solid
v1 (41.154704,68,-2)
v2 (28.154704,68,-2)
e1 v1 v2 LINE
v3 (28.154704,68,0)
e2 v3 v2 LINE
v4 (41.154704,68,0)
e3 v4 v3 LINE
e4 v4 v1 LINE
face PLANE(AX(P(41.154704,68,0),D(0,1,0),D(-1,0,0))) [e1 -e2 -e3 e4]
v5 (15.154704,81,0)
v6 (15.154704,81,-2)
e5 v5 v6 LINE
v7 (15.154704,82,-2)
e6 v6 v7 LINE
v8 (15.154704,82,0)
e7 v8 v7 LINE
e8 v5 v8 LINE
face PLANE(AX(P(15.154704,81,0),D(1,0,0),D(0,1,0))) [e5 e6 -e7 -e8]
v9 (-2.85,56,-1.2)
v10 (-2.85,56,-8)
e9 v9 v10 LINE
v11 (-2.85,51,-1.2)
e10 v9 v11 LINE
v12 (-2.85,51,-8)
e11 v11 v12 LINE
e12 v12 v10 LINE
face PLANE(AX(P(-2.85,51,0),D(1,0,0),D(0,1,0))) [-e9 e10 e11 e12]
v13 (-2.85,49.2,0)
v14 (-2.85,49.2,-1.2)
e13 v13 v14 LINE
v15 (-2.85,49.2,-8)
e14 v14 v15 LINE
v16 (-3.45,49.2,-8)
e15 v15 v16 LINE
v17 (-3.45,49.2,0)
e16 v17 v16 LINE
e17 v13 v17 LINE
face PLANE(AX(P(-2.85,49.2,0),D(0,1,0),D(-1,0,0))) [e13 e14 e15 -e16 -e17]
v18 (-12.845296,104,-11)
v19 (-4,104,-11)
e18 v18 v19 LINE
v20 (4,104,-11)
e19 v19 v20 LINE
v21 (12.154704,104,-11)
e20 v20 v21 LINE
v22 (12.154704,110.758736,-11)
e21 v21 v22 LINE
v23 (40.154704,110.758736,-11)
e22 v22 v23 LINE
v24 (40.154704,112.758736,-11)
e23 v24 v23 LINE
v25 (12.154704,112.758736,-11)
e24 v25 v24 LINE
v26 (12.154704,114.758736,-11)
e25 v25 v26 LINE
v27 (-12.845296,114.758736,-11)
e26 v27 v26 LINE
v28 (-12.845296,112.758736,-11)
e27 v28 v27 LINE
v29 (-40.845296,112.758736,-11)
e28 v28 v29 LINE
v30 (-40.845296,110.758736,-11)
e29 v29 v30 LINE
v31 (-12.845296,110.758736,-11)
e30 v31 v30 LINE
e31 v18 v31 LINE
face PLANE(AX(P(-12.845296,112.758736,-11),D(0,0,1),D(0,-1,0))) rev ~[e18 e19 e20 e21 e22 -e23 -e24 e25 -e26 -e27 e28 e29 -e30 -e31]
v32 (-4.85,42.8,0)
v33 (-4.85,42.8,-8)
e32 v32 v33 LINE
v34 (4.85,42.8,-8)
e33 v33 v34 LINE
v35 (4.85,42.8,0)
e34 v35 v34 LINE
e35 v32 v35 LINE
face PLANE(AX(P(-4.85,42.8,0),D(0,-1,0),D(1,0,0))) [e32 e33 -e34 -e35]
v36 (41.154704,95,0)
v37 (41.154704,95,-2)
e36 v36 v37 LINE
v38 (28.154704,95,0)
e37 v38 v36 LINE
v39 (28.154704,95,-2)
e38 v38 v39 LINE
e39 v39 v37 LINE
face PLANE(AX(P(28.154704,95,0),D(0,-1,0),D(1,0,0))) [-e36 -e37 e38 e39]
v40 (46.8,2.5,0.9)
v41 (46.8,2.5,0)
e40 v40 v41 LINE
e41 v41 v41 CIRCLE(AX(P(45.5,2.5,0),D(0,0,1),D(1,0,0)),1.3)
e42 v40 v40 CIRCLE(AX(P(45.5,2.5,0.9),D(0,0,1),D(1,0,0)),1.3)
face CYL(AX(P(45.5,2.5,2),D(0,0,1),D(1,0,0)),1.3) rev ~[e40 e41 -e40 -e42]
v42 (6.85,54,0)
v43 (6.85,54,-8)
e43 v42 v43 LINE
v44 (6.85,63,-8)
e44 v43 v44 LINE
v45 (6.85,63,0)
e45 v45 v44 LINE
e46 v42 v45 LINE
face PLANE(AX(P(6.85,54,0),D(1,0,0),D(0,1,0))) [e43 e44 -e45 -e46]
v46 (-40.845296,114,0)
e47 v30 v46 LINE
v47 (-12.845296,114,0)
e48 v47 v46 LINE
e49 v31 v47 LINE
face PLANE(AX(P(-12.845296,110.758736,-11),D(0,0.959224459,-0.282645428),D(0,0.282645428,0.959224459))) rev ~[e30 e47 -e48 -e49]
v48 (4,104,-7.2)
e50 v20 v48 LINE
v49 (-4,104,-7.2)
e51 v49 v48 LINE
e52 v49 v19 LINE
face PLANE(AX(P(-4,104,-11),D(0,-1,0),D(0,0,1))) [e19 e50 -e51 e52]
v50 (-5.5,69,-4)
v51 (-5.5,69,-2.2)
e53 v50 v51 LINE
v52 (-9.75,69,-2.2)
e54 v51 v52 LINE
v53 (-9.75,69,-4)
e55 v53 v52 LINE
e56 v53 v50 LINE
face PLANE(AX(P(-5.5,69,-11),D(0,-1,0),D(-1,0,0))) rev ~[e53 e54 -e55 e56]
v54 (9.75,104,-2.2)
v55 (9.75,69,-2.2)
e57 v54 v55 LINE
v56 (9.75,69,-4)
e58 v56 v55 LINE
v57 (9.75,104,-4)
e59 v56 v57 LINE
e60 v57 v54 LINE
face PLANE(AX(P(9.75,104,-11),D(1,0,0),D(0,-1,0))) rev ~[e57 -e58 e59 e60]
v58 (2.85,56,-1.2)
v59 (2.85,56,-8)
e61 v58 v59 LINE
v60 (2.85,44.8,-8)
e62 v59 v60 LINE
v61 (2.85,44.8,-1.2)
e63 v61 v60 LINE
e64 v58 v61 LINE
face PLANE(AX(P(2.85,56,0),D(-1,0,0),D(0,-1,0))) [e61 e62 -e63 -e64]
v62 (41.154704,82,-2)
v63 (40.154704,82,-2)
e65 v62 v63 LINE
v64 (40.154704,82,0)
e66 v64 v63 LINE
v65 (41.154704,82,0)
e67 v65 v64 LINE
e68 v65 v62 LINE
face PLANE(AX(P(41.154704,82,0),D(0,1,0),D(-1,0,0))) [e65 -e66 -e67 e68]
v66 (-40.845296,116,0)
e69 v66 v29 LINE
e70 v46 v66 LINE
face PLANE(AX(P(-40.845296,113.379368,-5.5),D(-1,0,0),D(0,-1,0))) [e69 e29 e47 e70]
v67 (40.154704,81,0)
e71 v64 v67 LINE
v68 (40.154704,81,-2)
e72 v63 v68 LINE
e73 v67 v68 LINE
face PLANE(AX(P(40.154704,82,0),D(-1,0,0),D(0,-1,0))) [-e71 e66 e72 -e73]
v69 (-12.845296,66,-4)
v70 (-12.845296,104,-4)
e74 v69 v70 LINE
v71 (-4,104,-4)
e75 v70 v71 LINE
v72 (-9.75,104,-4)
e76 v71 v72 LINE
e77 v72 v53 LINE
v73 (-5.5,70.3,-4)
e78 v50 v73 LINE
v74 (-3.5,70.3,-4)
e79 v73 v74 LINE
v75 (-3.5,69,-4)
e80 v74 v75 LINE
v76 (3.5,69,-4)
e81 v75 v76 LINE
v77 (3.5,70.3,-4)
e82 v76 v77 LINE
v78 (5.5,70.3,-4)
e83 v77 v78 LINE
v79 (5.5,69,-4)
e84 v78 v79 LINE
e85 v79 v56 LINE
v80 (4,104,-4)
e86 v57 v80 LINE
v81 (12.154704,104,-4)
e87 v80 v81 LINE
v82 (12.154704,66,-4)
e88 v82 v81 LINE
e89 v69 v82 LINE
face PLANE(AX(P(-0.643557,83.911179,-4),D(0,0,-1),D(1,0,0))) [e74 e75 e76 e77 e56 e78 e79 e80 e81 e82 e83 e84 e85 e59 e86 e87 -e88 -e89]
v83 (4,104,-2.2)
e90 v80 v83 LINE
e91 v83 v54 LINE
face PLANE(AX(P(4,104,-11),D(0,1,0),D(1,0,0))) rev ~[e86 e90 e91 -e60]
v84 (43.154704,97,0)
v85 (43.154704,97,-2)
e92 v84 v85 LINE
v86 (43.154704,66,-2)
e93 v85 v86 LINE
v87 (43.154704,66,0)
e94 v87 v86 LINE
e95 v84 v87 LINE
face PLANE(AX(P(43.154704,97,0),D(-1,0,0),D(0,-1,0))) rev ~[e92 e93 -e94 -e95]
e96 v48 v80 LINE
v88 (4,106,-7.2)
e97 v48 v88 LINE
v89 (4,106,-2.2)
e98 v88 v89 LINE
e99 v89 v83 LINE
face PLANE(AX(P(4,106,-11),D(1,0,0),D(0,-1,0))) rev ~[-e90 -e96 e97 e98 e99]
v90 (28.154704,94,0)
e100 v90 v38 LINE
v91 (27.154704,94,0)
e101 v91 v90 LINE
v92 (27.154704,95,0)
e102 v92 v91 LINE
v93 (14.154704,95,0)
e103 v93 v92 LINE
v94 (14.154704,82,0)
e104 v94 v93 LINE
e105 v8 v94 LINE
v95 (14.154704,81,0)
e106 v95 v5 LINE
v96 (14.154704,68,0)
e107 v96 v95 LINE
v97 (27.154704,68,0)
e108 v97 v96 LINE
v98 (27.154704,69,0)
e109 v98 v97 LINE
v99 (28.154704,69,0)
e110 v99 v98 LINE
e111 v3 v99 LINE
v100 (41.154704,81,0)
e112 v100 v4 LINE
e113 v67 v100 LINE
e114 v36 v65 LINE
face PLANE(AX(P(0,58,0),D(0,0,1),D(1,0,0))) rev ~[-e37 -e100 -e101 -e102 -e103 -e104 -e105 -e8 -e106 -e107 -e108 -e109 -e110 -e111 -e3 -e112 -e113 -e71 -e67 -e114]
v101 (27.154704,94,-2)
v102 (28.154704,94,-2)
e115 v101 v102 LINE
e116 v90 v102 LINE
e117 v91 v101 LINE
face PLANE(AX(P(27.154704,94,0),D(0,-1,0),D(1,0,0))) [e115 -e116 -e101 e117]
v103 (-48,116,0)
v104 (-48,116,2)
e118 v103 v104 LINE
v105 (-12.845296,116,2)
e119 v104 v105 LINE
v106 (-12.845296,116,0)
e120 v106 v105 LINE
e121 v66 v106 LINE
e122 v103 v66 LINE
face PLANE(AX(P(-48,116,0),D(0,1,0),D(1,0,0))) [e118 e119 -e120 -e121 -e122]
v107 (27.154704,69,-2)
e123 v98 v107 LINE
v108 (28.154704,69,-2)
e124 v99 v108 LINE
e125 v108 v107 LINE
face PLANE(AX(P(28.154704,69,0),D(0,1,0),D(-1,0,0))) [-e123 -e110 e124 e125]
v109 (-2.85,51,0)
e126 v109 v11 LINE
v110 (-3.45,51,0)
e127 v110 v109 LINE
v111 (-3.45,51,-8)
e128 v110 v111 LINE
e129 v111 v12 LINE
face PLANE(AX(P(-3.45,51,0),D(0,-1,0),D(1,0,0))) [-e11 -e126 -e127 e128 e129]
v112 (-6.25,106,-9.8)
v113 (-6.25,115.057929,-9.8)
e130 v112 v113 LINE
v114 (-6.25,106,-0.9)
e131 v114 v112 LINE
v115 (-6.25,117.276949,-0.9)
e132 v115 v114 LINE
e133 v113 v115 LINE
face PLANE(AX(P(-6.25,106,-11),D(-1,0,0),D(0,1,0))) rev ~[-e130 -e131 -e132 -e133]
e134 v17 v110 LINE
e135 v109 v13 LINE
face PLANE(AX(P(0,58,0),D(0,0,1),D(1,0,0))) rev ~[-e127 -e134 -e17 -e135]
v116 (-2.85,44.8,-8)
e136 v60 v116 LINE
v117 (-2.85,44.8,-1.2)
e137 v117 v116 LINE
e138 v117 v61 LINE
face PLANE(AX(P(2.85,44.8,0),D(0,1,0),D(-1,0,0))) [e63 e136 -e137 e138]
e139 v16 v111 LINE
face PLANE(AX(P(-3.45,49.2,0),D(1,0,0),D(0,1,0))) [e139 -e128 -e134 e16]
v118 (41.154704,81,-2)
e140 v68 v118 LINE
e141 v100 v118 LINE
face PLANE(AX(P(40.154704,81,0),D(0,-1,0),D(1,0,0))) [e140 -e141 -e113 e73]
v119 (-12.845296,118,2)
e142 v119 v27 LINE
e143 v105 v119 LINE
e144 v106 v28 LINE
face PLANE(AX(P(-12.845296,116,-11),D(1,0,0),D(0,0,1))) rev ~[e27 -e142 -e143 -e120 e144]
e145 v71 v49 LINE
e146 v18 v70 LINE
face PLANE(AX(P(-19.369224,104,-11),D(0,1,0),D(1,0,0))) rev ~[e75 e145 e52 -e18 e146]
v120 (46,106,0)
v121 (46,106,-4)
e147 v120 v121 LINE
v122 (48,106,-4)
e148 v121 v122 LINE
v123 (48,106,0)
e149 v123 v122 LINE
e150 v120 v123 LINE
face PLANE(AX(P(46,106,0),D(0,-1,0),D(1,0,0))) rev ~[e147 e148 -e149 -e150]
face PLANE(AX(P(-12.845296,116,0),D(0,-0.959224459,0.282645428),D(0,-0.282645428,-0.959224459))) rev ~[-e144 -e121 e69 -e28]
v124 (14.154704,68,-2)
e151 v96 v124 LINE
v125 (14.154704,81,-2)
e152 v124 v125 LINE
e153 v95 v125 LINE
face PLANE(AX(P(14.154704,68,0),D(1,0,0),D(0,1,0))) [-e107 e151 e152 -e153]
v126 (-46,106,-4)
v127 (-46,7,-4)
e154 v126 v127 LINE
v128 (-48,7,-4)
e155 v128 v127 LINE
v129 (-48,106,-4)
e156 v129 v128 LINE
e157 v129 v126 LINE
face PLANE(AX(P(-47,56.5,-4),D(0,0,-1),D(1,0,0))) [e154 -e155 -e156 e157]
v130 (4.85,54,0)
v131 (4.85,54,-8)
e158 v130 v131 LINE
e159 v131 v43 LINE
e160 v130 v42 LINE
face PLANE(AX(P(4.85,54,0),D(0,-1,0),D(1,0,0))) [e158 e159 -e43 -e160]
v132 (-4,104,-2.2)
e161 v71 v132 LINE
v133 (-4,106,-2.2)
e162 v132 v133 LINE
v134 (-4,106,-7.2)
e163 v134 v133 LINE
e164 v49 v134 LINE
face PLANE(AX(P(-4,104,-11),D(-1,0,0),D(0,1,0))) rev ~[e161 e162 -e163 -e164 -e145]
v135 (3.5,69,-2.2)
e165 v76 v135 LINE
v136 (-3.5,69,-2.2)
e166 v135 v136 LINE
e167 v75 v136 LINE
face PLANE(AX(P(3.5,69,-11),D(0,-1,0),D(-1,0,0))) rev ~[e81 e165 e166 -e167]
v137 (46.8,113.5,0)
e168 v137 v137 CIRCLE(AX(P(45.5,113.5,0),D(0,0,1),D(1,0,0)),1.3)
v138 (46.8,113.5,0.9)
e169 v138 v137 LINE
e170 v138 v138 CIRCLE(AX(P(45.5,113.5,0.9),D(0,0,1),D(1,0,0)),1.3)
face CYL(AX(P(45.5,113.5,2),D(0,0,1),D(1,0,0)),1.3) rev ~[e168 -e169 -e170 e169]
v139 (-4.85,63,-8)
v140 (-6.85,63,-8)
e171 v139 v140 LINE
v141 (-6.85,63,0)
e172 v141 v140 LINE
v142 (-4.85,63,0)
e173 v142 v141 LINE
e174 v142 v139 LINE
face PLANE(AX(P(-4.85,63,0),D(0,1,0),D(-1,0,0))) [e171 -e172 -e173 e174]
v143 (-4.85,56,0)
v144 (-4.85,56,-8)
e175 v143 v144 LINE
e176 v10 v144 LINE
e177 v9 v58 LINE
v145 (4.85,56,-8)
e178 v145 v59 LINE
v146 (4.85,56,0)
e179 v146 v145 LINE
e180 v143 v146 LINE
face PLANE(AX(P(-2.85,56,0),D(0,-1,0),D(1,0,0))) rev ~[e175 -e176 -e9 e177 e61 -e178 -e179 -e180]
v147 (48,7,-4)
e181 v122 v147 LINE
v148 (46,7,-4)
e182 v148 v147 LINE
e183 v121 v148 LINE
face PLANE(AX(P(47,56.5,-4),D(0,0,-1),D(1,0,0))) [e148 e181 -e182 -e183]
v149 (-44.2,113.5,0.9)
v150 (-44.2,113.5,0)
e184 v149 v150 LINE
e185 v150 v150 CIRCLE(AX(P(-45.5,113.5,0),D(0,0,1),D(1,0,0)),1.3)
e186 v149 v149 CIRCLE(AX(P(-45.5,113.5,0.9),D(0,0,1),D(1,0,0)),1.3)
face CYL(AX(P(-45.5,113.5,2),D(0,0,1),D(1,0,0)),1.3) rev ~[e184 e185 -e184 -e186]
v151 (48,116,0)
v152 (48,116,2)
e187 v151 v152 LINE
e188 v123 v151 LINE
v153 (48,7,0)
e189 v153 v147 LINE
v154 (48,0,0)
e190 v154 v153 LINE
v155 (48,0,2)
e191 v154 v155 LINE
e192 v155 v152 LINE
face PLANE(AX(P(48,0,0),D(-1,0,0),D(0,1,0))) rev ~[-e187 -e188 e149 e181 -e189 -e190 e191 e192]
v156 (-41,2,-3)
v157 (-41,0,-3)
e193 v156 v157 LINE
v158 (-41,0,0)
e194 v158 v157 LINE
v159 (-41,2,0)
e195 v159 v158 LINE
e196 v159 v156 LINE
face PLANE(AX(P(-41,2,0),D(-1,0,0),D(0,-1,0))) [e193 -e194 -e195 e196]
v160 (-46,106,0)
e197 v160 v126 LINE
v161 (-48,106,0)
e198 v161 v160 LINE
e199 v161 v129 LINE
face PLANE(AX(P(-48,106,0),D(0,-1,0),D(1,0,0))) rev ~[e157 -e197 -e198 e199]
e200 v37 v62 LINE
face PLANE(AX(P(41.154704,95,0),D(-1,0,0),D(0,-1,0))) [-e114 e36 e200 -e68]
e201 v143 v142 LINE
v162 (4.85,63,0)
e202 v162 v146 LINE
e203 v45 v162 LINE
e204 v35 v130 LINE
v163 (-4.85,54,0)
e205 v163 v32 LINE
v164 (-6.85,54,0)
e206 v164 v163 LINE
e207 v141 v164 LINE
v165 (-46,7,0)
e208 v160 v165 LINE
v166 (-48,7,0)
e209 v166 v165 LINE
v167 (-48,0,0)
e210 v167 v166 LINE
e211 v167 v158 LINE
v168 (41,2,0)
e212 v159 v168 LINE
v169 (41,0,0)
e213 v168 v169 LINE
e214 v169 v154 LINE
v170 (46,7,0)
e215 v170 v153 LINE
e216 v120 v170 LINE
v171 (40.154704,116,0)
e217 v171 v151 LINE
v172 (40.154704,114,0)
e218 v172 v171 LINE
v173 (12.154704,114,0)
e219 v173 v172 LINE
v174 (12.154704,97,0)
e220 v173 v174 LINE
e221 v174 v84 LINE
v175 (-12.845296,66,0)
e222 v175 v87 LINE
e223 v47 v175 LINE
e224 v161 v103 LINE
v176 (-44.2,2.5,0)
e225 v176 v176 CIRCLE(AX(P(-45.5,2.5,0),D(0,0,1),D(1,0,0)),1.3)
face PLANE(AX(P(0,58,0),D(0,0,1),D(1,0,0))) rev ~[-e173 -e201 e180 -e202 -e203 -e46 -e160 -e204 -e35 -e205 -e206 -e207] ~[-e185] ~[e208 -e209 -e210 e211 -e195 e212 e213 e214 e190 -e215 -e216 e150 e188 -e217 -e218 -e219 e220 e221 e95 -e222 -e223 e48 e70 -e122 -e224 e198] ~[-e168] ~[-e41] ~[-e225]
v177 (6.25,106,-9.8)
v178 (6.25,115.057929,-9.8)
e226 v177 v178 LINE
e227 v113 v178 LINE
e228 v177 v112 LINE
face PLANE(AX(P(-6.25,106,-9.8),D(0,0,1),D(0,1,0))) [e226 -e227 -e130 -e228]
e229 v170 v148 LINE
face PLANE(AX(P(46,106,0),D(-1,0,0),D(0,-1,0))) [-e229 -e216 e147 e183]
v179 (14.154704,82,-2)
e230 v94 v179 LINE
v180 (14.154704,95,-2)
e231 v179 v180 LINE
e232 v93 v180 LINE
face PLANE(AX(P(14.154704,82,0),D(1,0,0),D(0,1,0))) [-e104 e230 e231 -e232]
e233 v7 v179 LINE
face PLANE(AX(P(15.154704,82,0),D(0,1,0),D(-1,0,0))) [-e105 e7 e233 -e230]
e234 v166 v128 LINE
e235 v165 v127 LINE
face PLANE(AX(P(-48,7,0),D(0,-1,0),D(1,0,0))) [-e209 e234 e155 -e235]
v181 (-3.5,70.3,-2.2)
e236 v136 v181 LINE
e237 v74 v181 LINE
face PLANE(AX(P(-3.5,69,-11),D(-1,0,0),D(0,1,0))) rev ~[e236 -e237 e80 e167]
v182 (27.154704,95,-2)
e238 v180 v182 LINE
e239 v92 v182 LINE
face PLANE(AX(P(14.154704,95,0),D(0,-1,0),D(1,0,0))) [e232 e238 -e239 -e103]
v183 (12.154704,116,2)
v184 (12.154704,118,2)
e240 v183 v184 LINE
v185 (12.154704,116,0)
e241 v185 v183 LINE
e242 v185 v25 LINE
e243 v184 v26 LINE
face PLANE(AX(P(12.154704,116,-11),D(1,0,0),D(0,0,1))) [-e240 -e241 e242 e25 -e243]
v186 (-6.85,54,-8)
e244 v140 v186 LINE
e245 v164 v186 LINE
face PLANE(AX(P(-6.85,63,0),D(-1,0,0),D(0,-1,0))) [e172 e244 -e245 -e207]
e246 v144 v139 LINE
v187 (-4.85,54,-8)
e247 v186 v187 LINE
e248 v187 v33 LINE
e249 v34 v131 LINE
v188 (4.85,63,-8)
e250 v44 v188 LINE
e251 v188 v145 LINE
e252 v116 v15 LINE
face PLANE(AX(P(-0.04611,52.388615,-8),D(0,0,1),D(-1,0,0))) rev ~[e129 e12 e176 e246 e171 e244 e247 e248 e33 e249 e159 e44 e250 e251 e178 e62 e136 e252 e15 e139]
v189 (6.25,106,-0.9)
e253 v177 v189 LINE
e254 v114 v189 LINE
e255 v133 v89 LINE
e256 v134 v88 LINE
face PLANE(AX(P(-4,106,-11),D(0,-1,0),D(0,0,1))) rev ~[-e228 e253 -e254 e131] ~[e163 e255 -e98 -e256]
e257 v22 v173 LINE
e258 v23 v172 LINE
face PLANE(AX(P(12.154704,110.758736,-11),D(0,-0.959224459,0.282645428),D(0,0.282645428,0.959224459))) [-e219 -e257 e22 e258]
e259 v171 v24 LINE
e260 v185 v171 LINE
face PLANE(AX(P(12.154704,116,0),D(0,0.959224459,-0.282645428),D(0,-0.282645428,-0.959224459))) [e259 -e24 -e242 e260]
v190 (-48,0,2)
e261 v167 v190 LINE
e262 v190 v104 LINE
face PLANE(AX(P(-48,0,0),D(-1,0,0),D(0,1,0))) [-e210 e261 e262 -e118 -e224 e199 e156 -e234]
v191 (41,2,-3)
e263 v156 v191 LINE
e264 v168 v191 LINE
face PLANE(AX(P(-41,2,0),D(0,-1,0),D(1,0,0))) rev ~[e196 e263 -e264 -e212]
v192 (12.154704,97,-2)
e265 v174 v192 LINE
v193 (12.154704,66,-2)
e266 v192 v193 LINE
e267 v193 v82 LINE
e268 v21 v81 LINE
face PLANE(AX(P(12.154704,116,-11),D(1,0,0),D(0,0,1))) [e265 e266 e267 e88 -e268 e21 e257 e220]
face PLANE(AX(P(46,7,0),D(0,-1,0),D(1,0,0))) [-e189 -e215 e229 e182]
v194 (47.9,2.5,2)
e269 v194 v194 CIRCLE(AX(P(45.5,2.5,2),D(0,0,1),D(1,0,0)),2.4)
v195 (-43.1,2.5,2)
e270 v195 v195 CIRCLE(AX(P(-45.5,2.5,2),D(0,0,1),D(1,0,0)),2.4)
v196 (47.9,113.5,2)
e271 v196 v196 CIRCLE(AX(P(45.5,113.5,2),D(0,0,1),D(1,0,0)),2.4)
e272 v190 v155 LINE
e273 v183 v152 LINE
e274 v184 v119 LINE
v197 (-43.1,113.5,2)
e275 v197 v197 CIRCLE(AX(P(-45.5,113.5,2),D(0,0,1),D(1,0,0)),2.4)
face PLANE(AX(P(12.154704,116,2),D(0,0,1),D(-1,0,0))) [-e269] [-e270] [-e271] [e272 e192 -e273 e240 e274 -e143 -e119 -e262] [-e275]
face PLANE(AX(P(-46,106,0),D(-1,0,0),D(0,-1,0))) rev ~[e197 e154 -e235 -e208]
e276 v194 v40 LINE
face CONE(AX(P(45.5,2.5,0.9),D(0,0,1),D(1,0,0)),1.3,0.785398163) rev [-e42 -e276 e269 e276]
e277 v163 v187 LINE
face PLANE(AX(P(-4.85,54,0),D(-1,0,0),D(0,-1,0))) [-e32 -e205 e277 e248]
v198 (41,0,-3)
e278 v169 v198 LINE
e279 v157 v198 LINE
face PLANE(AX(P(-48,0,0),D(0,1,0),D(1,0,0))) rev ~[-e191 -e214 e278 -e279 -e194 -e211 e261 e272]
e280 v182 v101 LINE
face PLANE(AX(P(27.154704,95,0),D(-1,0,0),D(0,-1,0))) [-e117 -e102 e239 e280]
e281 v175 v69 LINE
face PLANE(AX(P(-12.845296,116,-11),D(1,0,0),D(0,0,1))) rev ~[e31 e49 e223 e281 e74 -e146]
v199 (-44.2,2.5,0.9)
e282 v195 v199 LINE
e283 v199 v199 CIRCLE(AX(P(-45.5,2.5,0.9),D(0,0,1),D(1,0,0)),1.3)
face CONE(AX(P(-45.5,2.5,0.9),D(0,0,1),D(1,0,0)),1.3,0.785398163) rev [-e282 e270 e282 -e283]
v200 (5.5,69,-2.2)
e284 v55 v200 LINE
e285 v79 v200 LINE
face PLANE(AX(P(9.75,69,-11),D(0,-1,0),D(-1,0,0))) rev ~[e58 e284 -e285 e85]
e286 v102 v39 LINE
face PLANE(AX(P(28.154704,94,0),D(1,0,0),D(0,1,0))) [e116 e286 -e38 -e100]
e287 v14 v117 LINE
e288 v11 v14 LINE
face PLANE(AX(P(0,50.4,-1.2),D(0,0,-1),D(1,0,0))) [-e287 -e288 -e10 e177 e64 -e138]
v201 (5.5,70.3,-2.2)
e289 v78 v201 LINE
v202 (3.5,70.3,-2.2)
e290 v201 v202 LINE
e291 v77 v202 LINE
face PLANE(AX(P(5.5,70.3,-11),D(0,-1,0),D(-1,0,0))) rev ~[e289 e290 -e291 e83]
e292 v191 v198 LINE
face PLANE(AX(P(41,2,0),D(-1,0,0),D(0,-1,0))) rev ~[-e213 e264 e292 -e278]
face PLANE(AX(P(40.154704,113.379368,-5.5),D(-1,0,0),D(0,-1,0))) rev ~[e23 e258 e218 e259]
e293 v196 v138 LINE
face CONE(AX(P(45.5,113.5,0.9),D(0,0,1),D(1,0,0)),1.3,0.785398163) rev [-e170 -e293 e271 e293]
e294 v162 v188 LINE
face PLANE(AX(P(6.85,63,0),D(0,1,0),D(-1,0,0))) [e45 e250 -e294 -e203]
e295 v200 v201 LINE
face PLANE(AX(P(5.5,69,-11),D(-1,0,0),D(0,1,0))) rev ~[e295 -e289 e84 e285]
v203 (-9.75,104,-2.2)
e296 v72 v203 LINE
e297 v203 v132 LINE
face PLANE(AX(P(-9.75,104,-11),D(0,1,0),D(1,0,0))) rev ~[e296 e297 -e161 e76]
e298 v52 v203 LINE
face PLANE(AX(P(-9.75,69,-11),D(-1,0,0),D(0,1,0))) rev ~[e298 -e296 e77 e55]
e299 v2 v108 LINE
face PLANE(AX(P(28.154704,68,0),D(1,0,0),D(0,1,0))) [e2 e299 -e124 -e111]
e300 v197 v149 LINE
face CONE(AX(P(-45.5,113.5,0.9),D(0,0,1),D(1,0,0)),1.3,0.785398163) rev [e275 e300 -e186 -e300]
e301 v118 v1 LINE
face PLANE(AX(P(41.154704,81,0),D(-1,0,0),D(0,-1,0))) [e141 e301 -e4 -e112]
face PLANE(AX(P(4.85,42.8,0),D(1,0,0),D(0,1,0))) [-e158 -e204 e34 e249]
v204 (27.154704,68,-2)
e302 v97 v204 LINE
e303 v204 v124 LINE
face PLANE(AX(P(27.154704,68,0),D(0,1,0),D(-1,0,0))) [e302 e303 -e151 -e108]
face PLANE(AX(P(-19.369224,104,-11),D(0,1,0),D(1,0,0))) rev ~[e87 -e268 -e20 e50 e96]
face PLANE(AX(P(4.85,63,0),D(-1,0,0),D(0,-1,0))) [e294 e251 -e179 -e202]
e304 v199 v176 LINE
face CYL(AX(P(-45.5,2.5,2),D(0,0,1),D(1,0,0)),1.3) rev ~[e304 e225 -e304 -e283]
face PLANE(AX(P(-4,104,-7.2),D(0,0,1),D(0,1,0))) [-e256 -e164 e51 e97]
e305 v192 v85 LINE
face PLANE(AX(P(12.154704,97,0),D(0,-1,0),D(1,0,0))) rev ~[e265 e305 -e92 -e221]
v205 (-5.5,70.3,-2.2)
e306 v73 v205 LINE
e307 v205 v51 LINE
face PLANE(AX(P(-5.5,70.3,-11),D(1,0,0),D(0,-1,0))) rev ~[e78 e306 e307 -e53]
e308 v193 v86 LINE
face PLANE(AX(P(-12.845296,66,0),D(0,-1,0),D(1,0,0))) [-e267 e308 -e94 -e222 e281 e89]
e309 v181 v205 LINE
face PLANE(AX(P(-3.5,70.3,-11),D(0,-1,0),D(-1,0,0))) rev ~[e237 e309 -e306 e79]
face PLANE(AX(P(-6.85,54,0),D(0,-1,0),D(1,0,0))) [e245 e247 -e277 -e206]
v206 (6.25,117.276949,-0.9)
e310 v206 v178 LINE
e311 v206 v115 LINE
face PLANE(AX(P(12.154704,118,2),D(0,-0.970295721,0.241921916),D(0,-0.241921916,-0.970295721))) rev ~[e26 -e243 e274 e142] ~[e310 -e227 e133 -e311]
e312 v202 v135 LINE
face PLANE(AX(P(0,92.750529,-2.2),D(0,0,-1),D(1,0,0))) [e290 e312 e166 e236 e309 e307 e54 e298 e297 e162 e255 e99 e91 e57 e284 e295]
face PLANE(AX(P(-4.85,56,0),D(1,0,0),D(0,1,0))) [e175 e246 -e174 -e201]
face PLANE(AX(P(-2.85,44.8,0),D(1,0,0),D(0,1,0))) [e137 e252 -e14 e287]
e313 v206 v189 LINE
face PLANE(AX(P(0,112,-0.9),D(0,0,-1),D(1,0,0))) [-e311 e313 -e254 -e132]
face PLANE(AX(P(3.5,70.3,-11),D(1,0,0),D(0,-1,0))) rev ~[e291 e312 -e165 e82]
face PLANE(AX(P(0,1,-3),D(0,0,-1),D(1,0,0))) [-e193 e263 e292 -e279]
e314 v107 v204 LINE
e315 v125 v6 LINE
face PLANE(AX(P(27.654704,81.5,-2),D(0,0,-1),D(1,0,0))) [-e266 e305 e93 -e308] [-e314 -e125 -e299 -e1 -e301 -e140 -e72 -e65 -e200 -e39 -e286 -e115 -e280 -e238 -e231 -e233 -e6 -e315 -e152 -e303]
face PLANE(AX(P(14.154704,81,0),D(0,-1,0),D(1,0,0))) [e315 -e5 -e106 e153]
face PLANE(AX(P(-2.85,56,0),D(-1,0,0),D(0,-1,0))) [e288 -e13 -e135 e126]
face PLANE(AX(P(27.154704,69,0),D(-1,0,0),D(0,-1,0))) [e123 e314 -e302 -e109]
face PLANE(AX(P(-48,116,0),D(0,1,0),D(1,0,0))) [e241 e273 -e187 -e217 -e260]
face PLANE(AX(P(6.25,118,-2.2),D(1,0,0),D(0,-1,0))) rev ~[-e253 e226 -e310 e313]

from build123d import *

# Parameters (mm, degrees)
SKETCH_W        = 96
SKETCH_H        = 116
PAD_DEPTH       = 2
SKETCH001_R     = 1.3
POCKET_DEPTH    = 2.001
CHAMFER_SIZE    = 1.1
SKETCH003_W     = 25
SKETCH003_H     = 50
PAD001_DEPTH    = 11
SKETCH004_W     = 25
SKETCH004_H     = 13
PAD002_DEPTH    = 2
POCKET001_DEPTH = 8.8
SKETCH008_W     = 12.5
SKETCH008_H     = 12
POCKET004_DEPTH = 1.3
SKETCH009_W     = 37.451334
SKETCH009_H     = 40.177643
POCKET005_DEPTH = 7
SKETCH010_W     = 12
SKETCH010_H     = 1.2
PAD003_DEPTH    = 12.5
SKETCH011_W     = 2
SKETCH011_H     = 3.8
PAD004_DEPTH    = 8
POCKET006_DEPTH = 60.155704
PAD005_DEPTH    = 8
SKETCH015_W     = 5.7
SKETCH015_H     = 11.2
PAD006_DEPTH    = 1.2
SKETCH016_W     = 31
SKETCH016_H     = 31
PAD007_DEPTH    = 2
SKETCH017_W     = 82
SKETCH017_H     = 2
PAD008_DEPTH    = 3
PAD009_DEPTH    = 28
PAD010_DEPTH    = 28
SKETCH020_W     = 2
SKETCH020_H     = 99
PAD011_DEPTH    = 4


with BuildPart() as part:
    # Sketch → Pad (new body)
    with BuildSketch(Plane.XY):
        with Locations((0, 58)):
            Rectangle(SKETCH_W, SKETCH_H)
    extrude(amount=PAD_DEPTH)

    # Sketch001 (on Face6 of Pad) → Pocket (cut, through all)
    with BuildSketch(Plane.XY.offset(2)):
        with Locations((-45.5, 113.5)):
            Circle(SKETCH001_R)
        with Locations((45.5, 113.5)):
            Circle(SKETCH001_R)
        with Locations((45.5, 2.5)):
            Circle(SKETCH001_R)
        with Locations((-45.5, 2.5)):
            Circle(SKETCH001_R)
    extrude(amount=-POCKET_DEPTH, mode=Mode.SUBTRACT)

    # Chamfer
    chamfer_edges = [part.edges().sort_by_distance(p)[0] for p in [
        (-46.8, 113.5, 2),
        (44.2, 113.5, 2),
        (44.2, 2.5, 2),
        (-46.8, 2.5, 2),
    ]]
    chamfer(chamfer_edges, length=CHAMFER_SIZE)

    # Sketch003 → Pad001 (join)
    with BuildSketch(Plane(origin=(0, 0, 0), x_dir=(1, 0, 0), z_dir=(0, 0, -1))):
        with Locations((-0.345296, -91)):
            Rectangle(SKETCH003_W, SKETCH003_H)
    extrude(amount=PAD001_DEPTH)

    # Sketch004 (on Face12 of Pad001) → Pad002 (join)
    with BuildSketch(Plane(origin=(0, 116, 0), x_dir=(-1, 0, 0), z_dir=(0, 1, 0))):
        with Locations((0.345296, -4.5)):
            Rectangle(SKETCH004_W, SKETCH004_H)
    extrude(amount=PAD002_DEPTH)

    # Sketch005 (on Face24 of Pad002) → Pocket001 (cut)
    with BuildSketch(Plane(origin=(0, 0, -11), x_dir=(1, 0, 0), z_dir=(0, 0, -1))):
        Polygon((-9.75, -69), (-9.75, -104), (-4, -104), (-4, -106), (-6.25, -106), (-6.25, -118), (6.25, -118), (6.25, -106), (4, -106), (4, -104), (9.75, -104), (9.75, -69), (5.5, -69), (5.5, -70.3), (3.5, -70.3), (3.5, -69), (-3.5, -69), (-3.5, -70.3), (-5.5, -70.3), (-5.5, -69), align=None)
    extrude(amount=-POCKET001_DEPTH, mode=Mode.SUBTRACT)

    # Sketch008 (on Face26 of Pocket001) → Pocket004 (cut)
    with BuildSketch(Plane(origin=(0, 0, -2.2), x_dir=(1, 0, 0), z_dir=(0, 0, -1))):
        with Locations((0, -112)):
            Rectangle(SKETCH008_W, SKETCH008_H)
    extrude(amount=-POCKET004_DEPTH, mode=Mode.SUBTRACT)

    # Sketch009 (on Face24 of Pocket004) → Pocket005 (cut)
    with BuildSketch(Plane(origin=(0, 0, -11), x_dir=(1, 0, 0), z_dir=(0, 0, -1))):
        with Locations((-0.643557, -83.911179)):
            Rectangle(SKETCH009_W, SKETCH009_H)
    extrude(amount=-POCKET005_DEPTH, mode=Mode.SUBTRACT)

    # Sketch010 (on Face29 of Pocket005) → Pad003 (join)
    with BuildSketch(Plane.YZ.offset(-6.25)):
        with Locations((112, -10.4)):
            Rectangle(SKETCH010_W, SKETCH010_H)
    extrude(amount=PAD003_DEPTH)

    # Sketch011 (on Face51 of Pad003) → Pad004 (join)
    with BuildSketch(Plane.YZ.offset(-4)):
        with Locations((105, -9.1)):
            Rectangle(SKETCH011_W, SKETCH011_H)
    extrude(amount=PAD004_DEPTH)

    # Sketch012 (on Face23 of Pad004) → Pocket006 (cut, through all)
    with BuildSketch(Plane.YZ.offset(12.154704)):
        Polygon((118, 2), (113.889458, -14.486482), (118, -14.486482), align=None)
    extrude(amount=-POCKET006_DEPTH, mode=Mode.SUBTRACT)

    # Sketch014 (on Face4 of Pocket006) → Pad005 (join)
    with BuildSketch(Plane(origin=(0, 0, 0), x_dir=(1, 0, 0), z_dir=(0, 0, -1))):
        Polygon((-4.85, -42.8), (4.85, -42.8), (4.85, -54), (6.85, -54), (6.85, -63), (4.85, -63), (4.85, -56), (2.85, -56), (2.85, -44.8), (-2.85, -44.8), (-2.85, -49.2), (-3.45, -49.2), (-3.45, -51), (-2.85, -51), (-2.85, -56), (-4.85, -56), (-4.85, -63), (-6.85, -63), (-6.85, -54), (-4.85, -54), align=None)
    extrude(amount=PAD005_DEPTH)

    # Sketch015 (on Face4 of Pad005) → Pad006 (join)
    with BuildSketch(Plane(origin=(0, 0, 0), x_dir=(1, 0, 0), z_dir=(0, 0, -1))):
        with Locations((0, -50.4)):
            Rectangle(SKETCH015_W, SKETCH015_H)
    extrude(amount=PAD006_DEPTH)

    # Sketch016 (on Face4 of Pad006) → Pad007 (join)
    with BuildSketch(Plane(origin=(0, 0, 0), x_dir=(1, 0, 0), z_dir=(0, 0, -1))):
        with Locations((27.654704, -81.5)):
            Rectangle(SKETCH016_W, SKETCH016_H)
        Polygon((14.154704, -68), (14.154704, -81), (15.154704, -81), (15.154704, -82), (14.154704, -82), (14.154704, -95), (27.154704, -95), (27.154704, -94), (28.154704, -94), (28.154704, -95), (41.154704, -95), (41.154704, -82), (40.154704, -82), (40.154704, -81), (41.154704, -81), (41.154704, -68), (28.154704, -68), (28.154704, -69), (27.154704, -69), (27.154704, -68), align=None, mode=Mode.SUBTRACT)
    extrude(amount=PAD007_DEPTH)

    # Sketch017 (on Face4 of Pad007) → Pad008 (join)
    with BuildSketch(Plane(origin=(0, 0, 0), x_dir=(1, 0, 0), z_dir=(0, 0, -1))):
        with Locations((0, -1)):
            Rectangle(SKETCH017_W, SKETCH017_H)
    extrude(amount=PAD008_DEPTH)

    # Sketch018 (on Face10 of Pad008) → Pad009 (join)
    with BuildSketch(Plane.YZ.offset(12.154704)):
        Polygon((116, 0), (112.758736, -11), (110.758736, -11), (114, 0), align=None)
    extrude(amount=PAD009_DEPTH)

    # Sketch019 (on Face17 of Pad009) → Pad010 (join)
    with BuildSketch(Plane(origin=(-12.845296, 0, 0), x_dir=(0, -1, 0), z_dir=(-1, 0, 0))):
        Polygon((-116, 0), (-112.758736, -11), (-110.758736, -11), (-114, 0), align=None)
    extrude(amount=PAD010_DEPTH)

    # Sketch020 (on Face4 of Pad010) → Pad011 (join)
    with BuildSketch(Plane(origin=(0, 0, 0), x_dir=(1, 0, 0), z_dir=(0, 0, -1))):
        with Locations((-47, -56.5)):
            Rectangle(SKETCH020_W, SKETCH020_H)
        with Locations((47, -56.5)):
            Rectangle(SKETCH020_W, SKETCH020_H)
    extrude(amount=PAD011_DEPTH)


solid = part.part
